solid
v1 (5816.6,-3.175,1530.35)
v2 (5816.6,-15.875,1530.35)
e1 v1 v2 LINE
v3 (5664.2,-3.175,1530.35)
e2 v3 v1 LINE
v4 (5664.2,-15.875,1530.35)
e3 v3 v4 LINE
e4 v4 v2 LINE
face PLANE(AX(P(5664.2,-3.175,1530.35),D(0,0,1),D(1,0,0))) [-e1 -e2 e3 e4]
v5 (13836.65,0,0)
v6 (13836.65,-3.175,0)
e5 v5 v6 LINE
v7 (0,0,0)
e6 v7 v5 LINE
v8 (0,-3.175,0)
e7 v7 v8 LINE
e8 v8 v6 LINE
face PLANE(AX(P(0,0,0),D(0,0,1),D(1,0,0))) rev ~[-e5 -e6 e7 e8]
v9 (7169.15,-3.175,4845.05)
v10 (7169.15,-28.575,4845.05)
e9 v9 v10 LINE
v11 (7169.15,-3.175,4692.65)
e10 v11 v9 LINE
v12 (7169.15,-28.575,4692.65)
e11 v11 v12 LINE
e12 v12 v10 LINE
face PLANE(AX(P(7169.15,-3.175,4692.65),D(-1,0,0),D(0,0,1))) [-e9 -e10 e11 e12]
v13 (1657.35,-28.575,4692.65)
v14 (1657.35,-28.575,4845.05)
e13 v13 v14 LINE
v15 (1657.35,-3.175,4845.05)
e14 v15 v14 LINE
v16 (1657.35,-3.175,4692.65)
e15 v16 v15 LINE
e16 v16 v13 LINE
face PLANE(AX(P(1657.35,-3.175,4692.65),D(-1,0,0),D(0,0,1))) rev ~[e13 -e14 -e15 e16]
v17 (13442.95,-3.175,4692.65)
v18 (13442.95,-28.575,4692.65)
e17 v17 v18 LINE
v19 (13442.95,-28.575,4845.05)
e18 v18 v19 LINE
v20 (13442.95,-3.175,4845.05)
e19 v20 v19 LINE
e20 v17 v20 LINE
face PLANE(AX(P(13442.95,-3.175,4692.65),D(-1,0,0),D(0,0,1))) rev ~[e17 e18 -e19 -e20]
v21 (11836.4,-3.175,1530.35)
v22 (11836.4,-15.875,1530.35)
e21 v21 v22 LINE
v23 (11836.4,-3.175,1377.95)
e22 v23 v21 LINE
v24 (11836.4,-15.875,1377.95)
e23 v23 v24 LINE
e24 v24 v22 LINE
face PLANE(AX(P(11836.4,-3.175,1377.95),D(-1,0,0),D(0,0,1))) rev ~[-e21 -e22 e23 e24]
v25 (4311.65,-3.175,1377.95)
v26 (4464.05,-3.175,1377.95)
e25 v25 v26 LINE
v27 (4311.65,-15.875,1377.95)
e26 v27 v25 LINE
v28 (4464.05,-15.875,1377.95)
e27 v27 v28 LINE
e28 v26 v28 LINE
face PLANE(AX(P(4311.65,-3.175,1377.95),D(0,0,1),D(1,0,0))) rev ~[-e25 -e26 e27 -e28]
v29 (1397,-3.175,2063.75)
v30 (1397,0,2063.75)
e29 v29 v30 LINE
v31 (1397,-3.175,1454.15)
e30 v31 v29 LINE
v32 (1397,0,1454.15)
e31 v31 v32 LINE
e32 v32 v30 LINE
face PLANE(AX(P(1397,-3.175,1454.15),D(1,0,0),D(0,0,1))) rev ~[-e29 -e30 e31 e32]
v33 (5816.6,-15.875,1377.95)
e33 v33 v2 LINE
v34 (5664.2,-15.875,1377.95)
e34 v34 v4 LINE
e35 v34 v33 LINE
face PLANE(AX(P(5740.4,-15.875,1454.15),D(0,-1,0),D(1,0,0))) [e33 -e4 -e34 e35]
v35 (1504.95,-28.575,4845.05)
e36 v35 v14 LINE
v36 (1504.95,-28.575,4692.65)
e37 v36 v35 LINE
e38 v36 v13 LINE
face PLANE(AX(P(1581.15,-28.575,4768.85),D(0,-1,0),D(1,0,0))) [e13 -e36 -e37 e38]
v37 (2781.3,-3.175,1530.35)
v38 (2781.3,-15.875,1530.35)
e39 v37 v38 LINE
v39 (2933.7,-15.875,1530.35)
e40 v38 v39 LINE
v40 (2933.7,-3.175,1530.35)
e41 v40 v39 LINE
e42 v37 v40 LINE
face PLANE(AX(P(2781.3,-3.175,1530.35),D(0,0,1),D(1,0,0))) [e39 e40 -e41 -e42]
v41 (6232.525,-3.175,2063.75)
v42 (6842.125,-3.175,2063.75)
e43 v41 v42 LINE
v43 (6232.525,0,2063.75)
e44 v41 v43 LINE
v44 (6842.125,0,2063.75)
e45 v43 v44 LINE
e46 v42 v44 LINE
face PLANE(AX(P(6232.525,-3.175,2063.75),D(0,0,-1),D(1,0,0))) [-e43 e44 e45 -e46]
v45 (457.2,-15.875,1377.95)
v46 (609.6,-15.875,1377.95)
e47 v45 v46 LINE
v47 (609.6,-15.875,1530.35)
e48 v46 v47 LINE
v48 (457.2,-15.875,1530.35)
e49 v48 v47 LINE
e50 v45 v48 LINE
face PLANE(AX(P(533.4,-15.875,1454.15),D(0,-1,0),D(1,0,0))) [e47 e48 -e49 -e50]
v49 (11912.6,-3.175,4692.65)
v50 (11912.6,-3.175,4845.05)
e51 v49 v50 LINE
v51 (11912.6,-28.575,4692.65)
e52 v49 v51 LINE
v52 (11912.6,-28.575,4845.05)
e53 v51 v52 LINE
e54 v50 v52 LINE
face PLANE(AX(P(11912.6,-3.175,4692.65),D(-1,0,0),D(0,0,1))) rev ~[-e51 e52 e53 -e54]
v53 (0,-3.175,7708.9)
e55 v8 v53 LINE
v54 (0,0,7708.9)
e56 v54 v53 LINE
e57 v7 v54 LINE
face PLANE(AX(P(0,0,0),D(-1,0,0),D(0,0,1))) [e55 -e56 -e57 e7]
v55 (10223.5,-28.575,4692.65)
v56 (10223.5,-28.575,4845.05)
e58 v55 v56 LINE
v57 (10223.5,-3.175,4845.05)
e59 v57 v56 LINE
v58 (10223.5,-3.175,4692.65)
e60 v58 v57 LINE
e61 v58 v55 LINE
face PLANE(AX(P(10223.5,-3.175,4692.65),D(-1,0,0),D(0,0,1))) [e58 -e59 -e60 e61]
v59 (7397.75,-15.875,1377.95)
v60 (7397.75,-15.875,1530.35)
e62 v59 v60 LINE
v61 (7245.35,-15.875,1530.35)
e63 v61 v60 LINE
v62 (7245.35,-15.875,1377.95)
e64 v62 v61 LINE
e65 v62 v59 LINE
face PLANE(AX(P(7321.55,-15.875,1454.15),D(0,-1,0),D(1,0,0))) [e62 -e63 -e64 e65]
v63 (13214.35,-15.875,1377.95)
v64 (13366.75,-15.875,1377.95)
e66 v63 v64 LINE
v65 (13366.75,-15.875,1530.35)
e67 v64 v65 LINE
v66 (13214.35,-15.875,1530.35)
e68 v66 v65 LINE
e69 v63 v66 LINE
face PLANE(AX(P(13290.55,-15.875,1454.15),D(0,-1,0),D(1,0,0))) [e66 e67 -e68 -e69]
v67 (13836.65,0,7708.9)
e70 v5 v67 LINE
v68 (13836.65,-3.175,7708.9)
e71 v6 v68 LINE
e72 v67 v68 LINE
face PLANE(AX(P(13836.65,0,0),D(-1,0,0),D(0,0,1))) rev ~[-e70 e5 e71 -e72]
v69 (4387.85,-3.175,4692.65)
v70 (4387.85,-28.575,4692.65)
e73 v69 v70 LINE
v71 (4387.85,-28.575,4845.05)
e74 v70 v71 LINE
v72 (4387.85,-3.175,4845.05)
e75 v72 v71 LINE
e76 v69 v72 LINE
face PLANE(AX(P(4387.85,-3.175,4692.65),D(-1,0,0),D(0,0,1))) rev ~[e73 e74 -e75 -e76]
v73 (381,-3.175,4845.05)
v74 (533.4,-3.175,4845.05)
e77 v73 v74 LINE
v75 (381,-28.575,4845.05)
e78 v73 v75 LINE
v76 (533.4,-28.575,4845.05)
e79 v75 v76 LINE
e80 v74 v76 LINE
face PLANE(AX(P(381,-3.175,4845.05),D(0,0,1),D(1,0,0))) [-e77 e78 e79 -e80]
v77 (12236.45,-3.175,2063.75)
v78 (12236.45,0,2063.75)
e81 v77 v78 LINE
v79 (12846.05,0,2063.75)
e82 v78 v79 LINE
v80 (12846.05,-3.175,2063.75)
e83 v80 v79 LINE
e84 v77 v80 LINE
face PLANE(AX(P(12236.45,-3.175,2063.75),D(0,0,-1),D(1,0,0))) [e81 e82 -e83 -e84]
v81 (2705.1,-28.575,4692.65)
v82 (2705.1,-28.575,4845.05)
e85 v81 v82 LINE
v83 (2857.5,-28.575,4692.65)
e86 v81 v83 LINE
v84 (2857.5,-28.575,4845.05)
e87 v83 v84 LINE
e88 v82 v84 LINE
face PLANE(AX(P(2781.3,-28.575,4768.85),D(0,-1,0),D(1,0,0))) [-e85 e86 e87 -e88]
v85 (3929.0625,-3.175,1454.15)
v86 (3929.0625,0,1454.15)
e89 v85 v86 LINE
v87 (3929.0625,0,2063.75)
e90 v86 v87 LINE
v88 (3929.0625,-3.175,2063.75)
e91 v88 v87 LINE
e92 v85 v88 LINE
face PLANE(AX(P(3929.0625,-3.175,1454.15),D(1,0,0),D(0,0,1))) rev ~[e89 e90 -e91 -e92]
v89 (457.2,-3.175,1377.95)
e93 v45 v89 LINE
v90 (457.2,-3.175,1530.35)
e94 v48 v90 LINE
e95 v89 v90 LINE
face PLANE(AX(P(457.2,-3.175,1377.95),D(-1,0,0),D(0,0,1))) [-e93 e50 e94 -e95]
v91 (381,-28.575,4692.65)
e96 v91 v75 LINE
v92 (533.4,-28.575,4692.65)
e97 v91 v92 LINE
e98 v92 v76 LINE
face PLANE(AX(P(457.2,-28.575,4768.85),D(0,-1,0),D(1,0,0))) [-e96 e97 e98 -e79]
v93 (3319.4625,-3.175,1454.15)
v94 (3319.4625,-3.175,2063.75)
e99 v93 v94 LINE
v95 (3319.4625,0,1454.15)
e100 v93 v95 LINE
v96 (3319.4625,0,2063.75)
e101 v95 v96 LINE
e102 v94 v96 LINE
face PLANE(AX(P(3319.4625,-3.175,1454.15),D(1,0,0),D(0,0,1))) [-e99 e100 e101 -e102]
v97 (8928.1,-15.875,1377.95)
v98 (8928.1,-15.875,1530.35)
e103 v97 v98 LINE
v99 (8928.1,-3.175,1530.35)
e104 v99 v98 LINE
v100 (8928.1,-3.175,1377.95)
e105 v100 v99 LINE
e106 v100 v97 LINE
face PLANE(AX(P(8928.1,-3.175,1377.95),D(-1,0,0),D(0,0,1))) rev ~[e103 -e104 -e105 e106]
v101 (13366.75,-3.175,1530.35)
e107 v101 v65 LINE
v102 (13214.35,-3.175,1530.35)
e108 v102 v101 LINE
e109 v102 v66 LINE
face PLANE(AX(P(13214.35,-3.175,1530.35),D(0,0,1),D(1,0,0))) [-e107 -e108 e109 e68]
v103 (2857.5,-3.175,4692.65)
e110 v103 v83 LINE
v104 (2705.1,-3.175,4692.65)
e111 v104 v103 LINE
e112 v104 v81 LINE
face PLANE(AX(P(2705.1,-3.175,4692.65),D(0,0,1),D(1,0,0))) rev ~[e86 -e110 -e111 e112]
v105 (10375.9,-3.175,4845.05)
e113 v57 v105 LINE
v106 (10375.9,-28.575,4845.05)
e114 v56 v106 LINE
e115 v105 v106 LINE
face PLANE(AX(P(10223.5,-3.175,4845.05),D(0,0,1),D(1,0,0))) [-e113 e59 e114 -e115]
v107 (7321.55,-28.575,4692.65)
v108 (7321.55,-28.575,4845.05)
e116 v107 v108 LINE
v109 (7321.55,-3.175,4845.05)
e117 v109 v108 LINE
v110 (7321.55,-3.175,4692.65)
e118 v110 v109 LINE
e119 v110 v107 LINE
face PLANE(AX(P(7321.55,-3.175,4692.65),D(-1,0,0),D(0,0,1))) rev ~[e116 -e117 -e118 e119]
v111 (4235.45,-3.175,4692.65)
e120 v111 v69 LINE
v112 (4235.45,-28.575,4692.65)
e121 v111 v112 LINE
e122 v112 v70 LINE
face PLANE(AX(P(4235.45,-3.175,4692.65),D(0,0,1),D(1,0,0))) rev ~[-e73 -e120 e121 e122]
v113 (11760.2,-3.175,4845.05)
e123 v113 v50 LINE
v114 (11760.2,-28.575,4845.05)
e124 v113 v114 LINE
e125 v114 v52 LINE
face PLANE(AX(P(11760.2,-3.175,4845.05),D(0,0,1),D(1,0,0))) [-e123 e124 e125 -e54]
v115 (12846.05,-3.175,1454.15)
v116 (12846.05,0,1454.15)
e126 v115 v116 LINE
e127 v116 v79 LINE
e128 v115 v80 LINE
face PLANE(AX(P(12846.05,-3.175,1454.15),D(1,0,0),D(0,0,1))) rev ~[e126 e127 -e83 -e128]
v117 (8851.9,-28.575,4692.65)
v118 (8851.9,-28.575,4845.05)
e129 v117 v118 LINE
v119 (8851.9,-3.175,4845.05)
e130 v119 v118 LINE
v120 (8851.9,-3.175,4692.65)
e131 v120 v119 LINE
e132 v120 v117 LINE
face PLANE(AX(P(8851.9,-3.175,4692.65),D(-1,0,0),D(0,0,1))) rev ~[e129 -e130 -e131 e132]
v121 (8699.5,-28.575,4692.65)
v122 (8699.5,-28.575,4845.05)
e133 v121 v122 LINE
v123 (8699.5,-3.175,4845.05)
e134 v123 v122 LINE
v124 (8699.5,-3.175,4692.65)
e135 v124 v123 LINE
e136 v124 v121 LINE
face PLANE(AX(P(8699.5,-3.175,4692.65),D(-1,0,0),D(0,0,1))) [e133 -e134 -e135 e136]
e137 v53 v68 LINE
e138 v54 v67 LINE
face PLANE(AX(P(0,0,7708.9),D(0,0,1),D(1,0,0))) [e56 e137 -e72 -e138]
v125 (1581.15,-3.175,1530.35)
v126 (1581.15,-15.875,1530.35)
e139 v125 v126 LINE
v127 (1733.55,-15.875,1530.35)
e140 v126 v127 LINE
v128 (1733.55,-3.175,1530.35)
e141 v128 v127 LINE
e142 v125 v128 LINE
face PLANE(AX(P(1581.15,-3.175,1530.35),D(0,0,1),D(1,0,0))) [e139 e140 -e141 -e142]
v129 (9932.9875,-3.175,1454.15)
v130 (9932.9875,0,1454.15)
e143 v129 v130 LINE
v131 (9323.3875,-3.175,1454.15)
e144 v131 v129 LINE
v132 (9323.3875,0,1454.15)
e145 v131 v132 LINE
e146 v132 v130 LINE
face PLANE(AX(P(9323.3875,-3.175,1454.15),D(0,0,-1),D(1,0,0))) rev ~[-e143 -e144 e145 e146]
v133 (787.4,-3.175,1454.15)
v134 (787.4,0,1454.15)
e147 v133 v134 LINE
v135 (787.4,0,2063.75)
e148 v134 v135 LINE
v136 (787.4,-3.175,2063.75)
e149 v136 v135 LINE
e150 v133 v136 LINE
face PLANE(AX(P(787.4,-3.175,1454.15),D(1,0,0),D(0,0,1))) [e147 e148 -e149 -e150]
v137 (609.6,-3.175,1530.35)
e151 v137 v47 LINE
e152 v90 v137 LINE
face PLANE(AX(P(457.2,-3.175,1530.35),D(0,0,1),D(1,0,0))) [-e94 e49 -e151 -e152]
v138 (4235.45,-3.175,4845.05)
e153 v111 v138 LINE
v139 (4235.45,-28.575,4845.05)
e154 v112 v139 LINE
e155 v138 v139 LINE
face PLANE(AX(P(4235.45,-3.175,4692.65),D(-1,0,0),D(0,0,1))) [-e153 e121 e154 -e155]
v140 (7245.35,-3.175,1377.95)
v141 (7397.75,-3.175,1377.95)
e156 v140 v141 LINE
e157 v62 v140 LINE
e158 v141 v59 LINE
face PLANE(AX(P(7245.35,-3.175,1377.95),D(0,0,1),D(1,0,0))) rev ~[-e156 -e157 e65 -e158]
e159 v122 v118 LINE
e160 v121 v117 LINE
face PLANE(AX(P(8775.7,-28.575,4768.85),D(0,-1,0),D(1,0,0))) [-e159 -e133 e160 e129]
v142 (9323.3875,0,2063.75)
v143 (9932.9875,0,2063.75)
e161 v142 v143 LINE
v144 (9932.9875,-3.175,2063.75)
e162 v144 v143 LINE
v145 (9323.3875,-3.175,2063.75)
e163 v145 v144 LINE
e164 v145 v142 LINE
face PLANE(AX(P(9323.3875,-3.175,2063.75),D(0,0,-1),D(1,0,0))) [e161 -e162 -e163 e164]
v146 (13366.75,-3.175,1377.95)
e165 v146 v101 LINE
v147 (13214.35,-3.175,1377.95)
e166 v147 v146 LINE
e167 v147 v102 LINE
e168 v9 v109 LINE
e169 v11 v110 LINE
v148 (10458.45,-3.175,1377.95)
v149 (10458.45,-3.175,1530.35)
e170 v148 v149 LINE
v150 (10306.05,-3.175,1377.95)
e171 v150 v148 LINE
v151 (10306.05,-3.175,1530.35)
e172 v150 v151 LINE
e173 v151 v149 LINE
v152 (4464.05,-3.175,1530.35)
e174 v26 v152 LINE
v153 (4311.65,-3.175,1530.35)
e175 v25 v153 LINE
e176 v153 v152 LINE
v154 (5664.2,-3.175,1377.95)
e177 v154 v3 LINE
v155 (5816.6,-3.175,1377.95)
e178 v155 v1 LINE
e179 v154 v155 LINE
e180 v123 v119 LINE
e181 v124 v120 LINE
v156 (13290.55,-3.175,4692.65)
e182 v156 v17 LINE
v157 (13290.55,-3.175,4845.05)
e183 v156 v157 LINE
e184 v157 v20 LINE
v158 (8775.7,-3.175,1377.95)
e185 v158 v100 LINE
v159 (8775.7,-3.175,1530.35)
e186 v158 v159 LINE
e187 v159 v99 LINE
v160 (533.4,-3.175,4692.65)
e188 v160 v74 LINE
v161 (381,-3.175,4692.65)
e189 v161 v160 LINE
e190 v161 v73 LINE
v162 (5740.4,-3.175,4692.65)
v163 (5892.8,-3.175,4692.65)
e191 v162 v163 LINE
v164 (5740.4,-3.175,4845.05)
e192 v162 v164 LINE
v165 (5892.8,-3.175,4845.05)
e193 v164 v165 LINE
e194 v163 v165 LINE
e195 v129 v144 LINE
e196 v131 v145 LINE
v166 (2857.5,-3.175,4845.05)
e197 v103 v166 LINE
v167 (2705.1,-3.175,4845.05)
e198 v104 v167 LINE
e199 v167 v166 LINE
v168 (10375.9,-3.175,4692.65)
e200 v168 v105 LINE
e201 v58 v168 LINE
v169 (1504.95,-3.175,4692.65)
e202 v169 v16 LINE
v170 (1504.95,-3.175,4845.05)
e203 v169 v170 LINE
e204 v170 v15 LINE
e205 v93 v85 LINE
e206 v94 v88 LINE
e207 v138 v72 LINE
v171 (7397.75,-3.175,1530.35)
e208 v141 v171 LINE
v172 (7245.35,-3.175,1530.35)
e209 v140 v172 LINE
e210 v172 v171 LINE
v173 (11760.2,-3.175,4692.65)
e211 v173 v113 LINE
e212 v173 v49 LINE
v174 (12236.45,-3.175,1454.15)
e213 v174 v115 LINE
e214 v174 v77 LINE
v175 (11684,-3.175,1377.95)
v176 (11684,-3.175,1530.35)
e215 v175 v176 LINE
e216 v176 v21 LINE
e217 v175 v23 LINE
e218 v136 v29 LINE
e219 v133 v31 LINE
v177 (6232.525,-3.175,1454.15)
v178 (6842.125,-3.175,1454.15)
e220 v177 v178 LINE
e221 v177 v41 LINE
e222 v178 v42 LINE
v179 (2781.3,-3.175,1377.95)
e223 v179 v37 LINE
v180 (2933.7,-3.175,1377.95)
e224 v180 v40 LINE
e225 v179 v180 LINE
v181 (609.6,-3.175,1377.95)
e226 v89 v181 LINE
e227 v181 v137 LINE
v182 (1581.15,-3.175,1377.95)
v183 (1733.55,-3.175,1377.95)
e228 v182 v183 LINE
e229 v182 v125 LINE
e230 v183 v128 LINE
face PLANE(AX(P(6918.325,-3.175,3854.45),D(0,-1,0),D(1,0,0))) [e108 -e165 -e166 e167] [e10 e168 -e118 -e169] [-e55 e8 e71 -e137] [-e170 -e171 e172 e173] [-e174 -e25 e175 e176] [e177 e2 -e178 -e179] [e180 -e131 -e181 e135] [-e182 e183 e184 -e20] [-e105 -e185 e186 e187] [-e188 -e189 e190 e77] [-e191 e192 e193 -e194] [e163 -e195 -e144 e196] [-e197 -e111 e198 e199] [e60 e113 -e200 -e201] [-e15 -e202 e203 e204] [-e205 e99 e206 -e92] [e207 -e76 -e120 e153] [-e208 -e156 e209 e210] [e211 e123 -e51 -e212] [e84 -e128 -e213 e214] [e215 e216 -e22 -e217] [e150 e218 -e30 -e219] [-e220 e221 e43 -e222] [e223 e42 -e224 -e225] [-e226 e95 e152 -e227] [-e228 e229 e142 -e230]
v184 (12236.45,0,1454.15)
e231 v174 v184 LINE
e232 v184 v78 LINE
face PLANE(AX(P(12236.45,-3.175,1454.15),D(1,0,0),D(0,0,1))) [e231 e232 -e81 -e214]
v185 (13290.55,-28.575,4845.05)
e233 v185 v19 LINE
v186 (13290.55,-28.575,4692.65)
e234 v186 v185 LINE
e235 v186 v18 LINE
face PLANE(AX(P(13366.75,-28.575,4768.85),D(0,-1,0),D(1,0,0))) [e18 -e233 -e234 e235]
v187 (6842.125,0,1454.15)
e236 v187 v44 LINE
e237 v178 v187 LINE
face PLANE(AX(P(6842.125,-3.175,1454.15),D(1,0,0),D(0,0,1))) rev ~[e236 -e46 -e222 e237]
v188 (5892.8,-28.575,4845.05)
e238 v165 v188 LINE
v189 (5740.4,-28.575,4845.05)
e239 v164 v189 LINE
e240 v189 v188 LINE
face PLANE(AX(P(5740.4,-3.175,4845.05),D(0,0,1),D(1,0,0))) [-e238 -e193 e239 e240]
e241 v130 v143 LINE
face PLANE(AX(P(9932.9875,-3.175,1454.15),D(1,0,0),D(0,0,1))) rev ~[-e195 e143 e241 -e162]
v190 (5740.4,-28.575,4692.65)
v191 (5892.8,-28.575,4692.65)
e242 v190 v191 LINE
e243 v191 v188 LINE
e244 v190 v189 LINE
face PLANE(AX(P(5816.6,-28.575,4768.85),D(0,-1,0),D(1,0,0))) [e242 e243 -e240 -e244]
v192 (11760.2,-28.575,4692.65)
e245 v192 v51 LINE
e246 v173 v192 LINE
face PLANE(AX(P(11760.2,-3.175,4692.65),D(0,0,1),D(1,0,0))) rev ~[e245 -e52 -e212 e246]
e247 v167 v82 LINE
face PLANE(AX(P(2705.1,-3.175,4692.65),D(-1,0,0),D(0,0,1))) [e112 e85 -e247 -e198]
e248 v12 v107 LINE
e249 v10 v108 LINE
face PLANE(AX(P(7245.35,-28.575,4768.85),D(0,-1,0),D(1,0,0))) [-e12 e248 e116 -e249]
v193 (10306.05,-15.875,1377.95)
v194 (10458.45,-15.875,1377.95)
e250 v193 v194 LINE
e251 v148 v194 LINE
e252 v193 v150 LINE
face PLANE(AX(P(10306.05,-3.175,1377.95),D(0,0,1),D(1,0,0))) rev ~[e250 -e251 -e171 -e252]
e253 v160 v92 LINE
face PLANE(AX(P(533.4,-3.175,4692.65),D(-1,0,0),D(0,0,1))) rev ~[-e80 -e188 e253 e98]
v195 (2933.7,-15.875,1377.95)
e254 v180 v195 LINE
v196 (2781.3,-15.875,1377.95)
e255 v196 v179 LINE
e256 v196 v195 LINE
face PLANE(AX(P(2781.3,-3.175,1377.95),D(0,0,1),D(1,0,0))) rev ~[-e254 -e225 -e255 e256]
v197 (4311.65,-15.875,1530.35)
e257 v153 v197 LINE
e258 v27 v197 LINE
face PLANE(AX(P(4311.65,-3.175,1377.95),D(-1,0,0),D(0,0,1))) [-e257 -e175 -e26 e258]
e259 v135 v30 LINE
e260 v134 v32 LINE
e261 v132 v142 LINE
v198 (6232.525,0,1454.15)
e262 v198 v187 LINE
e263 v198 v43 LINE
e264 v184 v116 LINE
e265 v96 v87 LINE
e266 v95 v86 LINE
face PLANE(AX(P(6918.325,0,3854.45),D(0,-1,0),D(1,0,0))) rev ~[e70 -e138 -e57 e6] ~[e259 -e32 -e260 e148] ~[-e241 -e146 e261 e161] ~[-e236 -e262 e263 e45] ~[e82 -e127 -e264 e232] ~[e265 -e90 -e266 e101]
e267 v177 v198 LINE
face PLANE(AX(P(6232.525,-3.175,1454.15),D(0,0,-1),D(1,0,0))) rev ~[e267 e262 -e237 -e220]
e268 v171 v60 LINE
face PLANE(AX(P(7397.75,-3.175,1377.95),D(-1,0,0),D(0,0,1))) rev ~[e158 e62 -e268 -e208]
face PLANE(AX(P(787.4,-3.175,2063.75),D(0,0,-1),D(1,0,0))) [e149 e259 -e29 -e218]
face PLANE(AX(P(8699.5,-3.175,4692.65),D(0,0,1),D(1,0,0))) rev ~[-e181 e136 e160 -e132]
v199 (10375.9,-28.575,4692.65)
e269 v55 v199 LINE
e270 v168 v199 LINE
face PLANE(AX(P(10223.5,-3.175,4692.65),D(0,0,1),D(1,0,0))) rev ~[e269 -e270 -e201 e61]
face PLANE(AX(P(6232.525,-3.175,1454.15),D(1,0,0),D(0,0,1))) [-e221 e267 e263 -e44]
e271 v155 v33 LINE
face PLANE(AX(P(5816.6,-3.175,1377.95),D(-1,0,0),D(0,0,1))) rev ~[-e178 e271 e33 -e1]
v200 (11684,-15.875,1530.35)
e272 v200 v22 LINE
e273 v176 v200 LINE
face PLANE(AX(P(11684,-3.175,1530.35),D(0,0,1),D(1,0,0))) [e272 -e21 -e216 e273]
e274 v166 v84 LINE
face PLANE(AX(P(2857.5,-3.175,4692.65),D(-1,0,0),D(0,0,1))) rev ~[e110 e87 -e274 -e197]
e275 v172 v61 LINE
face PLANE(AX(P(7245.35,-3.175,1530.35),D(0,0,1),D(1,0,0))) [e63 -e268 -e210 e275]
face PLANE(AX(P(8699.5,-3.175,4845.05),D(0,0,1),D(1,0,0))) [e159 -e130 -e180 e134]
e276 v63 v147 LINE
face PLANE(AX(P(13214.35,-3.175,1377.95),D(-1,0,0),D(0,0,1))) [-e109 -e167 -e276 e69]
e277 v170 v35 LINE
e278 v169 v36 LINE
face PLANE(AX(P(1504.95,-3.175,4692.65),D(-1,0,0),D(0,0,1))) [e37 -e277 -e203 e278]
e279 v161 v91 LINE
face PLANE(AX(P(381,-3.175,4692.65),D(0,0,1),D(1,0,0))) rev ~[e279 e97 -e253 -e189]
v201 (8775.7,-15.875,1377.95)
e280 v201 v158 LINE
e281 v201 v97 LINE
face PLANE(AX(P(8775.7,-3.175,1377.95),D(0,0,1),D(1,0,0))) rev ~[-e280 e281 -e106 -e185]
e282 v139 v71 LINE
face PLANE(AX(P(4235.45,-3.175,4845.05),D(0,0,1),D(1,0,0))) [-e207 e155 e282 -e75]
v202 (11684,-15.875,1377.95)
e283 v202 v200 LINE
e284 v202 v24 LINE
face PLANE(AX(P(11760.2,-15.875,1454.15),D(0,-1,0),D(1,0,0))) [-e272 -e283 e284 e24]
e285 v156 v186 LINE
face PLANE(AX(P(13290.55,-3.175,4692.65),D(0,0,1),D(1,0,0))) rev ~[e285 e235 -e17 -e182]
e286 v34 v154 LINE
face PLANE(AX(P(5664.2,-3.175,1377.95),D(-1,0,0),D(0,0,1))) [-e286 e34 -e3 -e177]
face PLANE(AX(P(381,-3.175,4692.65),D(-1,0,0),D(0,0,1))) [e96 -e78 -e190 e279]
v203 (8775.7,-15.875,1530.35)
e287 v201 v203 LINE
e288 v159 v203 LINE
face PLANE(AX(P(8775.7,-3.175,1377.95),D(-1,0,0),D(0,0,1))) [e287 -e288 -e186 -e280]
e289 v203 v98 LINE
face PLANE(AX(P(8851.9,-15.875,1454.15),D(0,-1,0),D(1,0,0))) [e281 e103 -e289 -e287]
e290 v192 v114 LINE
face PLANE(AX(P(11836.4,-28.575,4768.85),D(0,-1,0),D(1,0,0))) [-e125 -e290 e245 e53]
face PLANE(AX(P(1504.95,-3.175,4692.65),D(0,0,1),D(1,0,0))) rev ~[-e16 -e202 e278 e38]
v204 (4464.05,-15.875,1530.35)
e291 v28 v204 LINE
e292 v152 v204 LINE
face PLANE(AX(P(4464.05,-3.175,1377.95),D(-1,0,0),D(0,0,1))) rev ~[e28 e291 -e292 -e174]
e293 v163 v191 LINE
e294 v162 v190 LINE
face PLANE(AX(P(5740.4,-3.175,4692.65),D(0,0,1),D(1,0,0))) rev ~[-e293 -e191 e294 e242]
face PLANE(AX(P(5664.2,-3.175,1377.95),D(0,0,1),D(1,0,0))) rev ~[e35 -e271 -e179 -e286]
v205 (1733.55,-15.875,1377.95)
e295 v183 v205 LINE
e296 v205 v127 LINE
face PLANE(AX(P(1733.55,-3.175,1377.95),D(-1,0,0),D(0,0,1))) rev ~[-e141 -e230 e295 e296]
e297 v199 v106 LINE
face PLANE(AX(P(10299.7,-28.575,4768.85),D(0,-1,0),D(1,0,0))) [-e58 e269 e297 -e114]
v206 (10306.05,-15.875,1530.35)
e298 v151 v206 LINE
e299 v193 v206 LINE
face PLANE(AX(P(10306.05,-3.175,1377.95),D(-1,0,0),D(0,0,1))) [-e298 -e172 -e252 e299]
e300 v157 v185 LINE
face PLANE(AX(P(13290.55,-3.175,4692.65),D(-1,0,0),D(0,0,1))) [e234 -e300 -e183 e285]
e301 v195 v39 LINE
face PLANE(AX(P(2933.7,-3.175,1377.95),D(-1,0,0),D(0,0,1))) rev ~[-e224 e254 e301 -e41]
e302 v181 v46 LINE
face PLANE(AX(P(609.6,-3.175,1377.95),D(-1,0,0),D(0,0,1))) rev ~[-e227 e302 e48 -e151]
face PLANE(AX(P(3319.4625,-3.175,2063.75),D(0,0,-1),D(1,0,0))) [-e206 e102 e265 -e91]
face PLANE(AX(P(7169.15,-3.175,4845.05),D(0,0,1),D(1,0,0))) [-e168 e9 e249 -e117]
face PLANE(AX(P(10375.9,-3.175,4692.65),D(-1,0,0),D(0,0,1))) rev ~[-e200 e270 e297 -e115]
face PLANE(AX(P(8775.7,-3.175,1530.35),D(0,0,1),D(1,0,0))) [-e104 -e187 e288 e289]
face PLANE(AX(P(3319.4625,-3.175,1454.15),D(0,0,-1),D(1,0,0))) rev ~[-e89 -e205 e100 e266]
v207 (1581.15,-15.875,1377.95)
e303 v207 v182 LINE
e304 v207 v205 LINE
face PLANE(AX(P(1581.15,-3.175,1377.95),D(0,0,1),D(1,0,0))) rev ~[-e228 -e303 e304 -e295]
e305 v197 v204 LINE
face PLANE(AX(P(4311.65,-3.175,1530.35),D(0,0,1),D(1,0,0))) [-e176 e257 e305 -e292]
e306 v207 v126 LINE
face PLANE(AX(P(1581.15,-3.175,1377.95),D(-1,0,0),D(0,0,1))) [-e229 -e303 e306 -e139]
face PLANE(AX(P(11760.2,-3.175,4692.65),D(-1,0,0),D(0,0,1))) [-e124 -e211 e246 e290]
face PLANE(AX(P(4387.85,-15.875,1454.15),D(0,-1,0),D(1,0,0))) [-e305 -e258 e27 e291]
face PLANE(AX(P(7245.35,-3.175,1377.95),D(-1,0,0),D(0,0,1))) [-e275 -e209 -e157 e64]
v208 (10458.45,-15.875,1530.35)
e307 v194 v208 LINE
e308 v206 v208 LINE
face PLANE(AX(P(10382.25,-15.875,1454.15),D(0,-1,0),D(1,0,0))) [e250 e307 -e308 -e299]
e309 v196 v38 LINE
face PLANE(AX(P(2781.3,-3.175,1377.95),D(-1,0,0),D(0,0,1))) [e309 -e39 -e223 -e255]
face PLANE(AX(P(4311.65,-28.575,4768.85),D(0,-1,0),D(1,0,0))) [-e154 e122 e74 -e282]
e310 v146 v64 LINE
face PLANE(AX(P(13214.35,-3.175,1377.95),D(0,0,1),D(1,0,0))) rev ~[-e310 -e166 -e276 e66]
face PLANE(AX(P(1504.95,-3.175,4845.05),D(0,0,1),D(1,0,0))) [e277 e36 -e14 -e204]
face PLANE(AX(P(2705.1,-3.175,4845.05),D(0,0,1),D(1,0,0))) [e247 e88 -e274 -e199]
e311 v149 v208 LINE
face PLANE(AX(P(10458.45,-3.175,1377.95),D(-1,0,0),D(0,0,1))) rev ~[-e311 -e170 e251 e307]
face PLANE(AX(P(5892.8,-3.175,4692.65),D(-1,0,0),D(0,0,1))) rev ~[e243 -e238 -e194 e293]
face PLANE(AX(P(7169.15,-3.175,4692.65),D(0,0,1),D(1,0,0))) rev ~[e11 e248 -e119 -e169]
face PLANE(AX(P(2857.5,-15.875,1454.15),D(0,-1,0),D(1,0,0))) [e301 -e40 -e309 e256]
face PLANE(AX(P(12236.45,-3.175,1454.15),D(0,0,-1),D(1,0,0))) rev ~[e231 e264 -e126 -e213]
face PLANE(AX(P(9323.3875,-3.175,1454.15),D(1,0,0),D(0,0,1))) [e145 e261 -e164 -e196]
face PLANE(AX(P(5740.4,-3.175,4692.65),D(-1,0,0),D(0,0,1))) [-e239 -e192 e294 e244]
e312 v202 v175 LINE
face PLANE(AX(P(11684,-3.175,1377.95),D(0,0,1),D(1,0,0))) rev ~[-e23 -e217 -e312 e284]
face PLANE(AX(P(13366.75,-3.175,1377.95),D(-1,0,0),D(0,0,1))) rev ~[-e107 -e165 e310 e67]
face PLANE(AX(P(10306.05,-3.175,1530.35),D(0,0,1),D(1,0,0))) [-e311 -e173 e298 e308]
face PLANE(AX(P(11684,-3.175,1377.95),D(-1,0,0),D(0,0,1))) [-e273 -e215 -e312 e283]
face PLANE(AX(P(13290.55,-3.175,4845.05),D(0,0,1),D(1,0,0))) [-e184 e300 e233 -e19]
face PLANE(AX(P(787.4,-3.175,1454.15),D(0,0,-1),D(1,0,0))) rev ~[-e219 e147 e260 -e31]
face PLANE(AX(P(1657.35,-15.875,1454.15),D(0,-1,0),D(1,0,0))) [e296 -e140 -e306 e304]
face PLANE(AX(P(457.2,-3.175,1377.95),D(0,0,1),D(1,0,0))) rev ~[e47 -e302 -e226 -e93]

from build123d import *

# Parameters (mm, degrees)
F0_W     = 13836.65
F0_H     = 7708.9
F1_DEPTH = 3.175
F2_W     = 609.6
F2_H     = 609.6
F3_DEPTH = 3.176
F4_W     = 152.4
F4_H     = 152.4
F5_DEPTH = 6.35
F6_DEPTH = 12.7
F7_W     = 152.4
F7_H     = 152.4
F8_DEPTH = 25.4


with BuildPart() as f1:
    # F0 (on Front) → F1 (new body)
    with BuildSketch(Plane.XZ):
        with Locations((6918.325, 3854.45)):
            Rectangle(F0_W, F0_H)
    extrude(amount=F1_DEPTH)

    # F2 (on face) → F3 (cut, through all)
    with BuildSketch(Plane.XZ.offset(3.175)):
        with Locations((1092.2, 1758.95)):
            Rectangle(F2_W, F2_H)
        with Locations((3624.2625, 1758.95)):
            Rectangle(F2_W, F2_H)
        with Locations((6537.325, 1758.95)):
            Rectangle(F2_W, F2_H)
        with Locations((9628.1875, 1758.95)):
            Rectangle(F2_W, F2_H)
        with Locations((12541.25, 1758.95)):
            Rectangle(F2_W, F2_H)
    extrude(amount=-F3_DEPTH, mode=Mode.SUBTRACT)

    # F4 (on face) → F5 (join)
    with BuildSketch(Plane.XZ.offset(3.175)):
        with Locations((533.4, 1454.15)):
            Rectangle(F4_W, F4_H)
        with Locations((1657.35, 1454.15)):
            Rectangle(F4_W, F4_H)
        with Locations((2857.5, 1454.15)):
            Rectangle(F4_W, F4_H)
        with Locations((4387.85, 1454.15)):
            Rectangle(F4_W, F4_H)
        with Locations((5740.4, 1454.15)):
            Rectangle(F4_W, F4_H)
        with Locations((7321.55, 1454.15)):
            Rectangle(F4_W, F4_H)
        with Locations((8851.9, 1454.15)):
            Rectangle(F4_W, F4_H)
        with Locations((10382.25, 1454.15)):
            Rectangle(F4_W, F4_H)
        with Locations((11760.2, 1454.15)):
            Rectangle(F4_W, F4_H)
        with Locations((13290.55, 1454.15)):
            Rectangle(F4_W, F4_H)
    extrude(amount=F5_DEPTH)

    # F4 (on face) → F6 (join)
    with BuildSketch(Plane.XZ.offset(3.175)):
        with Locations((533.4, 1454.15)):
            Rectangle(F4_W, F4_H)
        with Locations((1657.35, 1454.15)):
            Rectangle(F4_W, F4_H)
        with Locations((2857.5, 1454.15)):
            Rectangle(F4_W, F4_H)
        with Locations((4387.85, 1454.15)):
            Rectangle(F4_W, F4_H)
        with Locations((5740.4, 1454.15)):
            Rectangle(F4_W, F4_H)
        with Locations((7321.55, 1454.15)):
            Rectangle(F4_W, F4_H)
        with Locations((8851.9, 1454.15)):
            Rectangle(F4_W, F4_H)
        with Locations((10382.25, 1454.15)):
            Rectangle(F4_W, F4_H)
        with Locations((11760.2, 1454.15)):
            Rectangle(F4_W, F4_H)
        with Locations((13290.55, 1454.15)):
            Rectangle(F4_W, F4_H)
    extrude(amount=F6_DEPTH)

    # F7 (on face) → F8 (join)
    with BuildSketch(Plane.XZ.offset(3.175)):
        with Locations((457.2, 4768.85)):
            Rectangle(F7_W, F7_H)
        with Locations((1581.15, 4768.85)):
            Rectangle(F7_W, F7_H)
        with Locations((2781.3, 4768.85)):
            Rectangle(F7_W, F7_H)
        with Locations((4311.65, 4768.85)):
            Rectangle(F7_W, F7_H)
        with Locations((5816.6, 4768.85)):
            Rectangle(F7_W, F7_H)
        with Locations((7245.35, 4768.85)):
            Rectangle(F7_W, F7_H)
        with Locations((8775.7, 4768.85)):
            Rectangle(F7_W, F7_H)
        with Locations((10299.7, 4768.85)):
            Rectangle(F7_W, F7_H)
        with Locations((11836.4, 4768.85)):
            Rectangle(F7_W, F7_H)
        with Locations((13366.75, 4768.85)):
            Rectangle(F7_W, F7_H)
    extrude(amount=F8_DEPTH)


solid = f1.part
